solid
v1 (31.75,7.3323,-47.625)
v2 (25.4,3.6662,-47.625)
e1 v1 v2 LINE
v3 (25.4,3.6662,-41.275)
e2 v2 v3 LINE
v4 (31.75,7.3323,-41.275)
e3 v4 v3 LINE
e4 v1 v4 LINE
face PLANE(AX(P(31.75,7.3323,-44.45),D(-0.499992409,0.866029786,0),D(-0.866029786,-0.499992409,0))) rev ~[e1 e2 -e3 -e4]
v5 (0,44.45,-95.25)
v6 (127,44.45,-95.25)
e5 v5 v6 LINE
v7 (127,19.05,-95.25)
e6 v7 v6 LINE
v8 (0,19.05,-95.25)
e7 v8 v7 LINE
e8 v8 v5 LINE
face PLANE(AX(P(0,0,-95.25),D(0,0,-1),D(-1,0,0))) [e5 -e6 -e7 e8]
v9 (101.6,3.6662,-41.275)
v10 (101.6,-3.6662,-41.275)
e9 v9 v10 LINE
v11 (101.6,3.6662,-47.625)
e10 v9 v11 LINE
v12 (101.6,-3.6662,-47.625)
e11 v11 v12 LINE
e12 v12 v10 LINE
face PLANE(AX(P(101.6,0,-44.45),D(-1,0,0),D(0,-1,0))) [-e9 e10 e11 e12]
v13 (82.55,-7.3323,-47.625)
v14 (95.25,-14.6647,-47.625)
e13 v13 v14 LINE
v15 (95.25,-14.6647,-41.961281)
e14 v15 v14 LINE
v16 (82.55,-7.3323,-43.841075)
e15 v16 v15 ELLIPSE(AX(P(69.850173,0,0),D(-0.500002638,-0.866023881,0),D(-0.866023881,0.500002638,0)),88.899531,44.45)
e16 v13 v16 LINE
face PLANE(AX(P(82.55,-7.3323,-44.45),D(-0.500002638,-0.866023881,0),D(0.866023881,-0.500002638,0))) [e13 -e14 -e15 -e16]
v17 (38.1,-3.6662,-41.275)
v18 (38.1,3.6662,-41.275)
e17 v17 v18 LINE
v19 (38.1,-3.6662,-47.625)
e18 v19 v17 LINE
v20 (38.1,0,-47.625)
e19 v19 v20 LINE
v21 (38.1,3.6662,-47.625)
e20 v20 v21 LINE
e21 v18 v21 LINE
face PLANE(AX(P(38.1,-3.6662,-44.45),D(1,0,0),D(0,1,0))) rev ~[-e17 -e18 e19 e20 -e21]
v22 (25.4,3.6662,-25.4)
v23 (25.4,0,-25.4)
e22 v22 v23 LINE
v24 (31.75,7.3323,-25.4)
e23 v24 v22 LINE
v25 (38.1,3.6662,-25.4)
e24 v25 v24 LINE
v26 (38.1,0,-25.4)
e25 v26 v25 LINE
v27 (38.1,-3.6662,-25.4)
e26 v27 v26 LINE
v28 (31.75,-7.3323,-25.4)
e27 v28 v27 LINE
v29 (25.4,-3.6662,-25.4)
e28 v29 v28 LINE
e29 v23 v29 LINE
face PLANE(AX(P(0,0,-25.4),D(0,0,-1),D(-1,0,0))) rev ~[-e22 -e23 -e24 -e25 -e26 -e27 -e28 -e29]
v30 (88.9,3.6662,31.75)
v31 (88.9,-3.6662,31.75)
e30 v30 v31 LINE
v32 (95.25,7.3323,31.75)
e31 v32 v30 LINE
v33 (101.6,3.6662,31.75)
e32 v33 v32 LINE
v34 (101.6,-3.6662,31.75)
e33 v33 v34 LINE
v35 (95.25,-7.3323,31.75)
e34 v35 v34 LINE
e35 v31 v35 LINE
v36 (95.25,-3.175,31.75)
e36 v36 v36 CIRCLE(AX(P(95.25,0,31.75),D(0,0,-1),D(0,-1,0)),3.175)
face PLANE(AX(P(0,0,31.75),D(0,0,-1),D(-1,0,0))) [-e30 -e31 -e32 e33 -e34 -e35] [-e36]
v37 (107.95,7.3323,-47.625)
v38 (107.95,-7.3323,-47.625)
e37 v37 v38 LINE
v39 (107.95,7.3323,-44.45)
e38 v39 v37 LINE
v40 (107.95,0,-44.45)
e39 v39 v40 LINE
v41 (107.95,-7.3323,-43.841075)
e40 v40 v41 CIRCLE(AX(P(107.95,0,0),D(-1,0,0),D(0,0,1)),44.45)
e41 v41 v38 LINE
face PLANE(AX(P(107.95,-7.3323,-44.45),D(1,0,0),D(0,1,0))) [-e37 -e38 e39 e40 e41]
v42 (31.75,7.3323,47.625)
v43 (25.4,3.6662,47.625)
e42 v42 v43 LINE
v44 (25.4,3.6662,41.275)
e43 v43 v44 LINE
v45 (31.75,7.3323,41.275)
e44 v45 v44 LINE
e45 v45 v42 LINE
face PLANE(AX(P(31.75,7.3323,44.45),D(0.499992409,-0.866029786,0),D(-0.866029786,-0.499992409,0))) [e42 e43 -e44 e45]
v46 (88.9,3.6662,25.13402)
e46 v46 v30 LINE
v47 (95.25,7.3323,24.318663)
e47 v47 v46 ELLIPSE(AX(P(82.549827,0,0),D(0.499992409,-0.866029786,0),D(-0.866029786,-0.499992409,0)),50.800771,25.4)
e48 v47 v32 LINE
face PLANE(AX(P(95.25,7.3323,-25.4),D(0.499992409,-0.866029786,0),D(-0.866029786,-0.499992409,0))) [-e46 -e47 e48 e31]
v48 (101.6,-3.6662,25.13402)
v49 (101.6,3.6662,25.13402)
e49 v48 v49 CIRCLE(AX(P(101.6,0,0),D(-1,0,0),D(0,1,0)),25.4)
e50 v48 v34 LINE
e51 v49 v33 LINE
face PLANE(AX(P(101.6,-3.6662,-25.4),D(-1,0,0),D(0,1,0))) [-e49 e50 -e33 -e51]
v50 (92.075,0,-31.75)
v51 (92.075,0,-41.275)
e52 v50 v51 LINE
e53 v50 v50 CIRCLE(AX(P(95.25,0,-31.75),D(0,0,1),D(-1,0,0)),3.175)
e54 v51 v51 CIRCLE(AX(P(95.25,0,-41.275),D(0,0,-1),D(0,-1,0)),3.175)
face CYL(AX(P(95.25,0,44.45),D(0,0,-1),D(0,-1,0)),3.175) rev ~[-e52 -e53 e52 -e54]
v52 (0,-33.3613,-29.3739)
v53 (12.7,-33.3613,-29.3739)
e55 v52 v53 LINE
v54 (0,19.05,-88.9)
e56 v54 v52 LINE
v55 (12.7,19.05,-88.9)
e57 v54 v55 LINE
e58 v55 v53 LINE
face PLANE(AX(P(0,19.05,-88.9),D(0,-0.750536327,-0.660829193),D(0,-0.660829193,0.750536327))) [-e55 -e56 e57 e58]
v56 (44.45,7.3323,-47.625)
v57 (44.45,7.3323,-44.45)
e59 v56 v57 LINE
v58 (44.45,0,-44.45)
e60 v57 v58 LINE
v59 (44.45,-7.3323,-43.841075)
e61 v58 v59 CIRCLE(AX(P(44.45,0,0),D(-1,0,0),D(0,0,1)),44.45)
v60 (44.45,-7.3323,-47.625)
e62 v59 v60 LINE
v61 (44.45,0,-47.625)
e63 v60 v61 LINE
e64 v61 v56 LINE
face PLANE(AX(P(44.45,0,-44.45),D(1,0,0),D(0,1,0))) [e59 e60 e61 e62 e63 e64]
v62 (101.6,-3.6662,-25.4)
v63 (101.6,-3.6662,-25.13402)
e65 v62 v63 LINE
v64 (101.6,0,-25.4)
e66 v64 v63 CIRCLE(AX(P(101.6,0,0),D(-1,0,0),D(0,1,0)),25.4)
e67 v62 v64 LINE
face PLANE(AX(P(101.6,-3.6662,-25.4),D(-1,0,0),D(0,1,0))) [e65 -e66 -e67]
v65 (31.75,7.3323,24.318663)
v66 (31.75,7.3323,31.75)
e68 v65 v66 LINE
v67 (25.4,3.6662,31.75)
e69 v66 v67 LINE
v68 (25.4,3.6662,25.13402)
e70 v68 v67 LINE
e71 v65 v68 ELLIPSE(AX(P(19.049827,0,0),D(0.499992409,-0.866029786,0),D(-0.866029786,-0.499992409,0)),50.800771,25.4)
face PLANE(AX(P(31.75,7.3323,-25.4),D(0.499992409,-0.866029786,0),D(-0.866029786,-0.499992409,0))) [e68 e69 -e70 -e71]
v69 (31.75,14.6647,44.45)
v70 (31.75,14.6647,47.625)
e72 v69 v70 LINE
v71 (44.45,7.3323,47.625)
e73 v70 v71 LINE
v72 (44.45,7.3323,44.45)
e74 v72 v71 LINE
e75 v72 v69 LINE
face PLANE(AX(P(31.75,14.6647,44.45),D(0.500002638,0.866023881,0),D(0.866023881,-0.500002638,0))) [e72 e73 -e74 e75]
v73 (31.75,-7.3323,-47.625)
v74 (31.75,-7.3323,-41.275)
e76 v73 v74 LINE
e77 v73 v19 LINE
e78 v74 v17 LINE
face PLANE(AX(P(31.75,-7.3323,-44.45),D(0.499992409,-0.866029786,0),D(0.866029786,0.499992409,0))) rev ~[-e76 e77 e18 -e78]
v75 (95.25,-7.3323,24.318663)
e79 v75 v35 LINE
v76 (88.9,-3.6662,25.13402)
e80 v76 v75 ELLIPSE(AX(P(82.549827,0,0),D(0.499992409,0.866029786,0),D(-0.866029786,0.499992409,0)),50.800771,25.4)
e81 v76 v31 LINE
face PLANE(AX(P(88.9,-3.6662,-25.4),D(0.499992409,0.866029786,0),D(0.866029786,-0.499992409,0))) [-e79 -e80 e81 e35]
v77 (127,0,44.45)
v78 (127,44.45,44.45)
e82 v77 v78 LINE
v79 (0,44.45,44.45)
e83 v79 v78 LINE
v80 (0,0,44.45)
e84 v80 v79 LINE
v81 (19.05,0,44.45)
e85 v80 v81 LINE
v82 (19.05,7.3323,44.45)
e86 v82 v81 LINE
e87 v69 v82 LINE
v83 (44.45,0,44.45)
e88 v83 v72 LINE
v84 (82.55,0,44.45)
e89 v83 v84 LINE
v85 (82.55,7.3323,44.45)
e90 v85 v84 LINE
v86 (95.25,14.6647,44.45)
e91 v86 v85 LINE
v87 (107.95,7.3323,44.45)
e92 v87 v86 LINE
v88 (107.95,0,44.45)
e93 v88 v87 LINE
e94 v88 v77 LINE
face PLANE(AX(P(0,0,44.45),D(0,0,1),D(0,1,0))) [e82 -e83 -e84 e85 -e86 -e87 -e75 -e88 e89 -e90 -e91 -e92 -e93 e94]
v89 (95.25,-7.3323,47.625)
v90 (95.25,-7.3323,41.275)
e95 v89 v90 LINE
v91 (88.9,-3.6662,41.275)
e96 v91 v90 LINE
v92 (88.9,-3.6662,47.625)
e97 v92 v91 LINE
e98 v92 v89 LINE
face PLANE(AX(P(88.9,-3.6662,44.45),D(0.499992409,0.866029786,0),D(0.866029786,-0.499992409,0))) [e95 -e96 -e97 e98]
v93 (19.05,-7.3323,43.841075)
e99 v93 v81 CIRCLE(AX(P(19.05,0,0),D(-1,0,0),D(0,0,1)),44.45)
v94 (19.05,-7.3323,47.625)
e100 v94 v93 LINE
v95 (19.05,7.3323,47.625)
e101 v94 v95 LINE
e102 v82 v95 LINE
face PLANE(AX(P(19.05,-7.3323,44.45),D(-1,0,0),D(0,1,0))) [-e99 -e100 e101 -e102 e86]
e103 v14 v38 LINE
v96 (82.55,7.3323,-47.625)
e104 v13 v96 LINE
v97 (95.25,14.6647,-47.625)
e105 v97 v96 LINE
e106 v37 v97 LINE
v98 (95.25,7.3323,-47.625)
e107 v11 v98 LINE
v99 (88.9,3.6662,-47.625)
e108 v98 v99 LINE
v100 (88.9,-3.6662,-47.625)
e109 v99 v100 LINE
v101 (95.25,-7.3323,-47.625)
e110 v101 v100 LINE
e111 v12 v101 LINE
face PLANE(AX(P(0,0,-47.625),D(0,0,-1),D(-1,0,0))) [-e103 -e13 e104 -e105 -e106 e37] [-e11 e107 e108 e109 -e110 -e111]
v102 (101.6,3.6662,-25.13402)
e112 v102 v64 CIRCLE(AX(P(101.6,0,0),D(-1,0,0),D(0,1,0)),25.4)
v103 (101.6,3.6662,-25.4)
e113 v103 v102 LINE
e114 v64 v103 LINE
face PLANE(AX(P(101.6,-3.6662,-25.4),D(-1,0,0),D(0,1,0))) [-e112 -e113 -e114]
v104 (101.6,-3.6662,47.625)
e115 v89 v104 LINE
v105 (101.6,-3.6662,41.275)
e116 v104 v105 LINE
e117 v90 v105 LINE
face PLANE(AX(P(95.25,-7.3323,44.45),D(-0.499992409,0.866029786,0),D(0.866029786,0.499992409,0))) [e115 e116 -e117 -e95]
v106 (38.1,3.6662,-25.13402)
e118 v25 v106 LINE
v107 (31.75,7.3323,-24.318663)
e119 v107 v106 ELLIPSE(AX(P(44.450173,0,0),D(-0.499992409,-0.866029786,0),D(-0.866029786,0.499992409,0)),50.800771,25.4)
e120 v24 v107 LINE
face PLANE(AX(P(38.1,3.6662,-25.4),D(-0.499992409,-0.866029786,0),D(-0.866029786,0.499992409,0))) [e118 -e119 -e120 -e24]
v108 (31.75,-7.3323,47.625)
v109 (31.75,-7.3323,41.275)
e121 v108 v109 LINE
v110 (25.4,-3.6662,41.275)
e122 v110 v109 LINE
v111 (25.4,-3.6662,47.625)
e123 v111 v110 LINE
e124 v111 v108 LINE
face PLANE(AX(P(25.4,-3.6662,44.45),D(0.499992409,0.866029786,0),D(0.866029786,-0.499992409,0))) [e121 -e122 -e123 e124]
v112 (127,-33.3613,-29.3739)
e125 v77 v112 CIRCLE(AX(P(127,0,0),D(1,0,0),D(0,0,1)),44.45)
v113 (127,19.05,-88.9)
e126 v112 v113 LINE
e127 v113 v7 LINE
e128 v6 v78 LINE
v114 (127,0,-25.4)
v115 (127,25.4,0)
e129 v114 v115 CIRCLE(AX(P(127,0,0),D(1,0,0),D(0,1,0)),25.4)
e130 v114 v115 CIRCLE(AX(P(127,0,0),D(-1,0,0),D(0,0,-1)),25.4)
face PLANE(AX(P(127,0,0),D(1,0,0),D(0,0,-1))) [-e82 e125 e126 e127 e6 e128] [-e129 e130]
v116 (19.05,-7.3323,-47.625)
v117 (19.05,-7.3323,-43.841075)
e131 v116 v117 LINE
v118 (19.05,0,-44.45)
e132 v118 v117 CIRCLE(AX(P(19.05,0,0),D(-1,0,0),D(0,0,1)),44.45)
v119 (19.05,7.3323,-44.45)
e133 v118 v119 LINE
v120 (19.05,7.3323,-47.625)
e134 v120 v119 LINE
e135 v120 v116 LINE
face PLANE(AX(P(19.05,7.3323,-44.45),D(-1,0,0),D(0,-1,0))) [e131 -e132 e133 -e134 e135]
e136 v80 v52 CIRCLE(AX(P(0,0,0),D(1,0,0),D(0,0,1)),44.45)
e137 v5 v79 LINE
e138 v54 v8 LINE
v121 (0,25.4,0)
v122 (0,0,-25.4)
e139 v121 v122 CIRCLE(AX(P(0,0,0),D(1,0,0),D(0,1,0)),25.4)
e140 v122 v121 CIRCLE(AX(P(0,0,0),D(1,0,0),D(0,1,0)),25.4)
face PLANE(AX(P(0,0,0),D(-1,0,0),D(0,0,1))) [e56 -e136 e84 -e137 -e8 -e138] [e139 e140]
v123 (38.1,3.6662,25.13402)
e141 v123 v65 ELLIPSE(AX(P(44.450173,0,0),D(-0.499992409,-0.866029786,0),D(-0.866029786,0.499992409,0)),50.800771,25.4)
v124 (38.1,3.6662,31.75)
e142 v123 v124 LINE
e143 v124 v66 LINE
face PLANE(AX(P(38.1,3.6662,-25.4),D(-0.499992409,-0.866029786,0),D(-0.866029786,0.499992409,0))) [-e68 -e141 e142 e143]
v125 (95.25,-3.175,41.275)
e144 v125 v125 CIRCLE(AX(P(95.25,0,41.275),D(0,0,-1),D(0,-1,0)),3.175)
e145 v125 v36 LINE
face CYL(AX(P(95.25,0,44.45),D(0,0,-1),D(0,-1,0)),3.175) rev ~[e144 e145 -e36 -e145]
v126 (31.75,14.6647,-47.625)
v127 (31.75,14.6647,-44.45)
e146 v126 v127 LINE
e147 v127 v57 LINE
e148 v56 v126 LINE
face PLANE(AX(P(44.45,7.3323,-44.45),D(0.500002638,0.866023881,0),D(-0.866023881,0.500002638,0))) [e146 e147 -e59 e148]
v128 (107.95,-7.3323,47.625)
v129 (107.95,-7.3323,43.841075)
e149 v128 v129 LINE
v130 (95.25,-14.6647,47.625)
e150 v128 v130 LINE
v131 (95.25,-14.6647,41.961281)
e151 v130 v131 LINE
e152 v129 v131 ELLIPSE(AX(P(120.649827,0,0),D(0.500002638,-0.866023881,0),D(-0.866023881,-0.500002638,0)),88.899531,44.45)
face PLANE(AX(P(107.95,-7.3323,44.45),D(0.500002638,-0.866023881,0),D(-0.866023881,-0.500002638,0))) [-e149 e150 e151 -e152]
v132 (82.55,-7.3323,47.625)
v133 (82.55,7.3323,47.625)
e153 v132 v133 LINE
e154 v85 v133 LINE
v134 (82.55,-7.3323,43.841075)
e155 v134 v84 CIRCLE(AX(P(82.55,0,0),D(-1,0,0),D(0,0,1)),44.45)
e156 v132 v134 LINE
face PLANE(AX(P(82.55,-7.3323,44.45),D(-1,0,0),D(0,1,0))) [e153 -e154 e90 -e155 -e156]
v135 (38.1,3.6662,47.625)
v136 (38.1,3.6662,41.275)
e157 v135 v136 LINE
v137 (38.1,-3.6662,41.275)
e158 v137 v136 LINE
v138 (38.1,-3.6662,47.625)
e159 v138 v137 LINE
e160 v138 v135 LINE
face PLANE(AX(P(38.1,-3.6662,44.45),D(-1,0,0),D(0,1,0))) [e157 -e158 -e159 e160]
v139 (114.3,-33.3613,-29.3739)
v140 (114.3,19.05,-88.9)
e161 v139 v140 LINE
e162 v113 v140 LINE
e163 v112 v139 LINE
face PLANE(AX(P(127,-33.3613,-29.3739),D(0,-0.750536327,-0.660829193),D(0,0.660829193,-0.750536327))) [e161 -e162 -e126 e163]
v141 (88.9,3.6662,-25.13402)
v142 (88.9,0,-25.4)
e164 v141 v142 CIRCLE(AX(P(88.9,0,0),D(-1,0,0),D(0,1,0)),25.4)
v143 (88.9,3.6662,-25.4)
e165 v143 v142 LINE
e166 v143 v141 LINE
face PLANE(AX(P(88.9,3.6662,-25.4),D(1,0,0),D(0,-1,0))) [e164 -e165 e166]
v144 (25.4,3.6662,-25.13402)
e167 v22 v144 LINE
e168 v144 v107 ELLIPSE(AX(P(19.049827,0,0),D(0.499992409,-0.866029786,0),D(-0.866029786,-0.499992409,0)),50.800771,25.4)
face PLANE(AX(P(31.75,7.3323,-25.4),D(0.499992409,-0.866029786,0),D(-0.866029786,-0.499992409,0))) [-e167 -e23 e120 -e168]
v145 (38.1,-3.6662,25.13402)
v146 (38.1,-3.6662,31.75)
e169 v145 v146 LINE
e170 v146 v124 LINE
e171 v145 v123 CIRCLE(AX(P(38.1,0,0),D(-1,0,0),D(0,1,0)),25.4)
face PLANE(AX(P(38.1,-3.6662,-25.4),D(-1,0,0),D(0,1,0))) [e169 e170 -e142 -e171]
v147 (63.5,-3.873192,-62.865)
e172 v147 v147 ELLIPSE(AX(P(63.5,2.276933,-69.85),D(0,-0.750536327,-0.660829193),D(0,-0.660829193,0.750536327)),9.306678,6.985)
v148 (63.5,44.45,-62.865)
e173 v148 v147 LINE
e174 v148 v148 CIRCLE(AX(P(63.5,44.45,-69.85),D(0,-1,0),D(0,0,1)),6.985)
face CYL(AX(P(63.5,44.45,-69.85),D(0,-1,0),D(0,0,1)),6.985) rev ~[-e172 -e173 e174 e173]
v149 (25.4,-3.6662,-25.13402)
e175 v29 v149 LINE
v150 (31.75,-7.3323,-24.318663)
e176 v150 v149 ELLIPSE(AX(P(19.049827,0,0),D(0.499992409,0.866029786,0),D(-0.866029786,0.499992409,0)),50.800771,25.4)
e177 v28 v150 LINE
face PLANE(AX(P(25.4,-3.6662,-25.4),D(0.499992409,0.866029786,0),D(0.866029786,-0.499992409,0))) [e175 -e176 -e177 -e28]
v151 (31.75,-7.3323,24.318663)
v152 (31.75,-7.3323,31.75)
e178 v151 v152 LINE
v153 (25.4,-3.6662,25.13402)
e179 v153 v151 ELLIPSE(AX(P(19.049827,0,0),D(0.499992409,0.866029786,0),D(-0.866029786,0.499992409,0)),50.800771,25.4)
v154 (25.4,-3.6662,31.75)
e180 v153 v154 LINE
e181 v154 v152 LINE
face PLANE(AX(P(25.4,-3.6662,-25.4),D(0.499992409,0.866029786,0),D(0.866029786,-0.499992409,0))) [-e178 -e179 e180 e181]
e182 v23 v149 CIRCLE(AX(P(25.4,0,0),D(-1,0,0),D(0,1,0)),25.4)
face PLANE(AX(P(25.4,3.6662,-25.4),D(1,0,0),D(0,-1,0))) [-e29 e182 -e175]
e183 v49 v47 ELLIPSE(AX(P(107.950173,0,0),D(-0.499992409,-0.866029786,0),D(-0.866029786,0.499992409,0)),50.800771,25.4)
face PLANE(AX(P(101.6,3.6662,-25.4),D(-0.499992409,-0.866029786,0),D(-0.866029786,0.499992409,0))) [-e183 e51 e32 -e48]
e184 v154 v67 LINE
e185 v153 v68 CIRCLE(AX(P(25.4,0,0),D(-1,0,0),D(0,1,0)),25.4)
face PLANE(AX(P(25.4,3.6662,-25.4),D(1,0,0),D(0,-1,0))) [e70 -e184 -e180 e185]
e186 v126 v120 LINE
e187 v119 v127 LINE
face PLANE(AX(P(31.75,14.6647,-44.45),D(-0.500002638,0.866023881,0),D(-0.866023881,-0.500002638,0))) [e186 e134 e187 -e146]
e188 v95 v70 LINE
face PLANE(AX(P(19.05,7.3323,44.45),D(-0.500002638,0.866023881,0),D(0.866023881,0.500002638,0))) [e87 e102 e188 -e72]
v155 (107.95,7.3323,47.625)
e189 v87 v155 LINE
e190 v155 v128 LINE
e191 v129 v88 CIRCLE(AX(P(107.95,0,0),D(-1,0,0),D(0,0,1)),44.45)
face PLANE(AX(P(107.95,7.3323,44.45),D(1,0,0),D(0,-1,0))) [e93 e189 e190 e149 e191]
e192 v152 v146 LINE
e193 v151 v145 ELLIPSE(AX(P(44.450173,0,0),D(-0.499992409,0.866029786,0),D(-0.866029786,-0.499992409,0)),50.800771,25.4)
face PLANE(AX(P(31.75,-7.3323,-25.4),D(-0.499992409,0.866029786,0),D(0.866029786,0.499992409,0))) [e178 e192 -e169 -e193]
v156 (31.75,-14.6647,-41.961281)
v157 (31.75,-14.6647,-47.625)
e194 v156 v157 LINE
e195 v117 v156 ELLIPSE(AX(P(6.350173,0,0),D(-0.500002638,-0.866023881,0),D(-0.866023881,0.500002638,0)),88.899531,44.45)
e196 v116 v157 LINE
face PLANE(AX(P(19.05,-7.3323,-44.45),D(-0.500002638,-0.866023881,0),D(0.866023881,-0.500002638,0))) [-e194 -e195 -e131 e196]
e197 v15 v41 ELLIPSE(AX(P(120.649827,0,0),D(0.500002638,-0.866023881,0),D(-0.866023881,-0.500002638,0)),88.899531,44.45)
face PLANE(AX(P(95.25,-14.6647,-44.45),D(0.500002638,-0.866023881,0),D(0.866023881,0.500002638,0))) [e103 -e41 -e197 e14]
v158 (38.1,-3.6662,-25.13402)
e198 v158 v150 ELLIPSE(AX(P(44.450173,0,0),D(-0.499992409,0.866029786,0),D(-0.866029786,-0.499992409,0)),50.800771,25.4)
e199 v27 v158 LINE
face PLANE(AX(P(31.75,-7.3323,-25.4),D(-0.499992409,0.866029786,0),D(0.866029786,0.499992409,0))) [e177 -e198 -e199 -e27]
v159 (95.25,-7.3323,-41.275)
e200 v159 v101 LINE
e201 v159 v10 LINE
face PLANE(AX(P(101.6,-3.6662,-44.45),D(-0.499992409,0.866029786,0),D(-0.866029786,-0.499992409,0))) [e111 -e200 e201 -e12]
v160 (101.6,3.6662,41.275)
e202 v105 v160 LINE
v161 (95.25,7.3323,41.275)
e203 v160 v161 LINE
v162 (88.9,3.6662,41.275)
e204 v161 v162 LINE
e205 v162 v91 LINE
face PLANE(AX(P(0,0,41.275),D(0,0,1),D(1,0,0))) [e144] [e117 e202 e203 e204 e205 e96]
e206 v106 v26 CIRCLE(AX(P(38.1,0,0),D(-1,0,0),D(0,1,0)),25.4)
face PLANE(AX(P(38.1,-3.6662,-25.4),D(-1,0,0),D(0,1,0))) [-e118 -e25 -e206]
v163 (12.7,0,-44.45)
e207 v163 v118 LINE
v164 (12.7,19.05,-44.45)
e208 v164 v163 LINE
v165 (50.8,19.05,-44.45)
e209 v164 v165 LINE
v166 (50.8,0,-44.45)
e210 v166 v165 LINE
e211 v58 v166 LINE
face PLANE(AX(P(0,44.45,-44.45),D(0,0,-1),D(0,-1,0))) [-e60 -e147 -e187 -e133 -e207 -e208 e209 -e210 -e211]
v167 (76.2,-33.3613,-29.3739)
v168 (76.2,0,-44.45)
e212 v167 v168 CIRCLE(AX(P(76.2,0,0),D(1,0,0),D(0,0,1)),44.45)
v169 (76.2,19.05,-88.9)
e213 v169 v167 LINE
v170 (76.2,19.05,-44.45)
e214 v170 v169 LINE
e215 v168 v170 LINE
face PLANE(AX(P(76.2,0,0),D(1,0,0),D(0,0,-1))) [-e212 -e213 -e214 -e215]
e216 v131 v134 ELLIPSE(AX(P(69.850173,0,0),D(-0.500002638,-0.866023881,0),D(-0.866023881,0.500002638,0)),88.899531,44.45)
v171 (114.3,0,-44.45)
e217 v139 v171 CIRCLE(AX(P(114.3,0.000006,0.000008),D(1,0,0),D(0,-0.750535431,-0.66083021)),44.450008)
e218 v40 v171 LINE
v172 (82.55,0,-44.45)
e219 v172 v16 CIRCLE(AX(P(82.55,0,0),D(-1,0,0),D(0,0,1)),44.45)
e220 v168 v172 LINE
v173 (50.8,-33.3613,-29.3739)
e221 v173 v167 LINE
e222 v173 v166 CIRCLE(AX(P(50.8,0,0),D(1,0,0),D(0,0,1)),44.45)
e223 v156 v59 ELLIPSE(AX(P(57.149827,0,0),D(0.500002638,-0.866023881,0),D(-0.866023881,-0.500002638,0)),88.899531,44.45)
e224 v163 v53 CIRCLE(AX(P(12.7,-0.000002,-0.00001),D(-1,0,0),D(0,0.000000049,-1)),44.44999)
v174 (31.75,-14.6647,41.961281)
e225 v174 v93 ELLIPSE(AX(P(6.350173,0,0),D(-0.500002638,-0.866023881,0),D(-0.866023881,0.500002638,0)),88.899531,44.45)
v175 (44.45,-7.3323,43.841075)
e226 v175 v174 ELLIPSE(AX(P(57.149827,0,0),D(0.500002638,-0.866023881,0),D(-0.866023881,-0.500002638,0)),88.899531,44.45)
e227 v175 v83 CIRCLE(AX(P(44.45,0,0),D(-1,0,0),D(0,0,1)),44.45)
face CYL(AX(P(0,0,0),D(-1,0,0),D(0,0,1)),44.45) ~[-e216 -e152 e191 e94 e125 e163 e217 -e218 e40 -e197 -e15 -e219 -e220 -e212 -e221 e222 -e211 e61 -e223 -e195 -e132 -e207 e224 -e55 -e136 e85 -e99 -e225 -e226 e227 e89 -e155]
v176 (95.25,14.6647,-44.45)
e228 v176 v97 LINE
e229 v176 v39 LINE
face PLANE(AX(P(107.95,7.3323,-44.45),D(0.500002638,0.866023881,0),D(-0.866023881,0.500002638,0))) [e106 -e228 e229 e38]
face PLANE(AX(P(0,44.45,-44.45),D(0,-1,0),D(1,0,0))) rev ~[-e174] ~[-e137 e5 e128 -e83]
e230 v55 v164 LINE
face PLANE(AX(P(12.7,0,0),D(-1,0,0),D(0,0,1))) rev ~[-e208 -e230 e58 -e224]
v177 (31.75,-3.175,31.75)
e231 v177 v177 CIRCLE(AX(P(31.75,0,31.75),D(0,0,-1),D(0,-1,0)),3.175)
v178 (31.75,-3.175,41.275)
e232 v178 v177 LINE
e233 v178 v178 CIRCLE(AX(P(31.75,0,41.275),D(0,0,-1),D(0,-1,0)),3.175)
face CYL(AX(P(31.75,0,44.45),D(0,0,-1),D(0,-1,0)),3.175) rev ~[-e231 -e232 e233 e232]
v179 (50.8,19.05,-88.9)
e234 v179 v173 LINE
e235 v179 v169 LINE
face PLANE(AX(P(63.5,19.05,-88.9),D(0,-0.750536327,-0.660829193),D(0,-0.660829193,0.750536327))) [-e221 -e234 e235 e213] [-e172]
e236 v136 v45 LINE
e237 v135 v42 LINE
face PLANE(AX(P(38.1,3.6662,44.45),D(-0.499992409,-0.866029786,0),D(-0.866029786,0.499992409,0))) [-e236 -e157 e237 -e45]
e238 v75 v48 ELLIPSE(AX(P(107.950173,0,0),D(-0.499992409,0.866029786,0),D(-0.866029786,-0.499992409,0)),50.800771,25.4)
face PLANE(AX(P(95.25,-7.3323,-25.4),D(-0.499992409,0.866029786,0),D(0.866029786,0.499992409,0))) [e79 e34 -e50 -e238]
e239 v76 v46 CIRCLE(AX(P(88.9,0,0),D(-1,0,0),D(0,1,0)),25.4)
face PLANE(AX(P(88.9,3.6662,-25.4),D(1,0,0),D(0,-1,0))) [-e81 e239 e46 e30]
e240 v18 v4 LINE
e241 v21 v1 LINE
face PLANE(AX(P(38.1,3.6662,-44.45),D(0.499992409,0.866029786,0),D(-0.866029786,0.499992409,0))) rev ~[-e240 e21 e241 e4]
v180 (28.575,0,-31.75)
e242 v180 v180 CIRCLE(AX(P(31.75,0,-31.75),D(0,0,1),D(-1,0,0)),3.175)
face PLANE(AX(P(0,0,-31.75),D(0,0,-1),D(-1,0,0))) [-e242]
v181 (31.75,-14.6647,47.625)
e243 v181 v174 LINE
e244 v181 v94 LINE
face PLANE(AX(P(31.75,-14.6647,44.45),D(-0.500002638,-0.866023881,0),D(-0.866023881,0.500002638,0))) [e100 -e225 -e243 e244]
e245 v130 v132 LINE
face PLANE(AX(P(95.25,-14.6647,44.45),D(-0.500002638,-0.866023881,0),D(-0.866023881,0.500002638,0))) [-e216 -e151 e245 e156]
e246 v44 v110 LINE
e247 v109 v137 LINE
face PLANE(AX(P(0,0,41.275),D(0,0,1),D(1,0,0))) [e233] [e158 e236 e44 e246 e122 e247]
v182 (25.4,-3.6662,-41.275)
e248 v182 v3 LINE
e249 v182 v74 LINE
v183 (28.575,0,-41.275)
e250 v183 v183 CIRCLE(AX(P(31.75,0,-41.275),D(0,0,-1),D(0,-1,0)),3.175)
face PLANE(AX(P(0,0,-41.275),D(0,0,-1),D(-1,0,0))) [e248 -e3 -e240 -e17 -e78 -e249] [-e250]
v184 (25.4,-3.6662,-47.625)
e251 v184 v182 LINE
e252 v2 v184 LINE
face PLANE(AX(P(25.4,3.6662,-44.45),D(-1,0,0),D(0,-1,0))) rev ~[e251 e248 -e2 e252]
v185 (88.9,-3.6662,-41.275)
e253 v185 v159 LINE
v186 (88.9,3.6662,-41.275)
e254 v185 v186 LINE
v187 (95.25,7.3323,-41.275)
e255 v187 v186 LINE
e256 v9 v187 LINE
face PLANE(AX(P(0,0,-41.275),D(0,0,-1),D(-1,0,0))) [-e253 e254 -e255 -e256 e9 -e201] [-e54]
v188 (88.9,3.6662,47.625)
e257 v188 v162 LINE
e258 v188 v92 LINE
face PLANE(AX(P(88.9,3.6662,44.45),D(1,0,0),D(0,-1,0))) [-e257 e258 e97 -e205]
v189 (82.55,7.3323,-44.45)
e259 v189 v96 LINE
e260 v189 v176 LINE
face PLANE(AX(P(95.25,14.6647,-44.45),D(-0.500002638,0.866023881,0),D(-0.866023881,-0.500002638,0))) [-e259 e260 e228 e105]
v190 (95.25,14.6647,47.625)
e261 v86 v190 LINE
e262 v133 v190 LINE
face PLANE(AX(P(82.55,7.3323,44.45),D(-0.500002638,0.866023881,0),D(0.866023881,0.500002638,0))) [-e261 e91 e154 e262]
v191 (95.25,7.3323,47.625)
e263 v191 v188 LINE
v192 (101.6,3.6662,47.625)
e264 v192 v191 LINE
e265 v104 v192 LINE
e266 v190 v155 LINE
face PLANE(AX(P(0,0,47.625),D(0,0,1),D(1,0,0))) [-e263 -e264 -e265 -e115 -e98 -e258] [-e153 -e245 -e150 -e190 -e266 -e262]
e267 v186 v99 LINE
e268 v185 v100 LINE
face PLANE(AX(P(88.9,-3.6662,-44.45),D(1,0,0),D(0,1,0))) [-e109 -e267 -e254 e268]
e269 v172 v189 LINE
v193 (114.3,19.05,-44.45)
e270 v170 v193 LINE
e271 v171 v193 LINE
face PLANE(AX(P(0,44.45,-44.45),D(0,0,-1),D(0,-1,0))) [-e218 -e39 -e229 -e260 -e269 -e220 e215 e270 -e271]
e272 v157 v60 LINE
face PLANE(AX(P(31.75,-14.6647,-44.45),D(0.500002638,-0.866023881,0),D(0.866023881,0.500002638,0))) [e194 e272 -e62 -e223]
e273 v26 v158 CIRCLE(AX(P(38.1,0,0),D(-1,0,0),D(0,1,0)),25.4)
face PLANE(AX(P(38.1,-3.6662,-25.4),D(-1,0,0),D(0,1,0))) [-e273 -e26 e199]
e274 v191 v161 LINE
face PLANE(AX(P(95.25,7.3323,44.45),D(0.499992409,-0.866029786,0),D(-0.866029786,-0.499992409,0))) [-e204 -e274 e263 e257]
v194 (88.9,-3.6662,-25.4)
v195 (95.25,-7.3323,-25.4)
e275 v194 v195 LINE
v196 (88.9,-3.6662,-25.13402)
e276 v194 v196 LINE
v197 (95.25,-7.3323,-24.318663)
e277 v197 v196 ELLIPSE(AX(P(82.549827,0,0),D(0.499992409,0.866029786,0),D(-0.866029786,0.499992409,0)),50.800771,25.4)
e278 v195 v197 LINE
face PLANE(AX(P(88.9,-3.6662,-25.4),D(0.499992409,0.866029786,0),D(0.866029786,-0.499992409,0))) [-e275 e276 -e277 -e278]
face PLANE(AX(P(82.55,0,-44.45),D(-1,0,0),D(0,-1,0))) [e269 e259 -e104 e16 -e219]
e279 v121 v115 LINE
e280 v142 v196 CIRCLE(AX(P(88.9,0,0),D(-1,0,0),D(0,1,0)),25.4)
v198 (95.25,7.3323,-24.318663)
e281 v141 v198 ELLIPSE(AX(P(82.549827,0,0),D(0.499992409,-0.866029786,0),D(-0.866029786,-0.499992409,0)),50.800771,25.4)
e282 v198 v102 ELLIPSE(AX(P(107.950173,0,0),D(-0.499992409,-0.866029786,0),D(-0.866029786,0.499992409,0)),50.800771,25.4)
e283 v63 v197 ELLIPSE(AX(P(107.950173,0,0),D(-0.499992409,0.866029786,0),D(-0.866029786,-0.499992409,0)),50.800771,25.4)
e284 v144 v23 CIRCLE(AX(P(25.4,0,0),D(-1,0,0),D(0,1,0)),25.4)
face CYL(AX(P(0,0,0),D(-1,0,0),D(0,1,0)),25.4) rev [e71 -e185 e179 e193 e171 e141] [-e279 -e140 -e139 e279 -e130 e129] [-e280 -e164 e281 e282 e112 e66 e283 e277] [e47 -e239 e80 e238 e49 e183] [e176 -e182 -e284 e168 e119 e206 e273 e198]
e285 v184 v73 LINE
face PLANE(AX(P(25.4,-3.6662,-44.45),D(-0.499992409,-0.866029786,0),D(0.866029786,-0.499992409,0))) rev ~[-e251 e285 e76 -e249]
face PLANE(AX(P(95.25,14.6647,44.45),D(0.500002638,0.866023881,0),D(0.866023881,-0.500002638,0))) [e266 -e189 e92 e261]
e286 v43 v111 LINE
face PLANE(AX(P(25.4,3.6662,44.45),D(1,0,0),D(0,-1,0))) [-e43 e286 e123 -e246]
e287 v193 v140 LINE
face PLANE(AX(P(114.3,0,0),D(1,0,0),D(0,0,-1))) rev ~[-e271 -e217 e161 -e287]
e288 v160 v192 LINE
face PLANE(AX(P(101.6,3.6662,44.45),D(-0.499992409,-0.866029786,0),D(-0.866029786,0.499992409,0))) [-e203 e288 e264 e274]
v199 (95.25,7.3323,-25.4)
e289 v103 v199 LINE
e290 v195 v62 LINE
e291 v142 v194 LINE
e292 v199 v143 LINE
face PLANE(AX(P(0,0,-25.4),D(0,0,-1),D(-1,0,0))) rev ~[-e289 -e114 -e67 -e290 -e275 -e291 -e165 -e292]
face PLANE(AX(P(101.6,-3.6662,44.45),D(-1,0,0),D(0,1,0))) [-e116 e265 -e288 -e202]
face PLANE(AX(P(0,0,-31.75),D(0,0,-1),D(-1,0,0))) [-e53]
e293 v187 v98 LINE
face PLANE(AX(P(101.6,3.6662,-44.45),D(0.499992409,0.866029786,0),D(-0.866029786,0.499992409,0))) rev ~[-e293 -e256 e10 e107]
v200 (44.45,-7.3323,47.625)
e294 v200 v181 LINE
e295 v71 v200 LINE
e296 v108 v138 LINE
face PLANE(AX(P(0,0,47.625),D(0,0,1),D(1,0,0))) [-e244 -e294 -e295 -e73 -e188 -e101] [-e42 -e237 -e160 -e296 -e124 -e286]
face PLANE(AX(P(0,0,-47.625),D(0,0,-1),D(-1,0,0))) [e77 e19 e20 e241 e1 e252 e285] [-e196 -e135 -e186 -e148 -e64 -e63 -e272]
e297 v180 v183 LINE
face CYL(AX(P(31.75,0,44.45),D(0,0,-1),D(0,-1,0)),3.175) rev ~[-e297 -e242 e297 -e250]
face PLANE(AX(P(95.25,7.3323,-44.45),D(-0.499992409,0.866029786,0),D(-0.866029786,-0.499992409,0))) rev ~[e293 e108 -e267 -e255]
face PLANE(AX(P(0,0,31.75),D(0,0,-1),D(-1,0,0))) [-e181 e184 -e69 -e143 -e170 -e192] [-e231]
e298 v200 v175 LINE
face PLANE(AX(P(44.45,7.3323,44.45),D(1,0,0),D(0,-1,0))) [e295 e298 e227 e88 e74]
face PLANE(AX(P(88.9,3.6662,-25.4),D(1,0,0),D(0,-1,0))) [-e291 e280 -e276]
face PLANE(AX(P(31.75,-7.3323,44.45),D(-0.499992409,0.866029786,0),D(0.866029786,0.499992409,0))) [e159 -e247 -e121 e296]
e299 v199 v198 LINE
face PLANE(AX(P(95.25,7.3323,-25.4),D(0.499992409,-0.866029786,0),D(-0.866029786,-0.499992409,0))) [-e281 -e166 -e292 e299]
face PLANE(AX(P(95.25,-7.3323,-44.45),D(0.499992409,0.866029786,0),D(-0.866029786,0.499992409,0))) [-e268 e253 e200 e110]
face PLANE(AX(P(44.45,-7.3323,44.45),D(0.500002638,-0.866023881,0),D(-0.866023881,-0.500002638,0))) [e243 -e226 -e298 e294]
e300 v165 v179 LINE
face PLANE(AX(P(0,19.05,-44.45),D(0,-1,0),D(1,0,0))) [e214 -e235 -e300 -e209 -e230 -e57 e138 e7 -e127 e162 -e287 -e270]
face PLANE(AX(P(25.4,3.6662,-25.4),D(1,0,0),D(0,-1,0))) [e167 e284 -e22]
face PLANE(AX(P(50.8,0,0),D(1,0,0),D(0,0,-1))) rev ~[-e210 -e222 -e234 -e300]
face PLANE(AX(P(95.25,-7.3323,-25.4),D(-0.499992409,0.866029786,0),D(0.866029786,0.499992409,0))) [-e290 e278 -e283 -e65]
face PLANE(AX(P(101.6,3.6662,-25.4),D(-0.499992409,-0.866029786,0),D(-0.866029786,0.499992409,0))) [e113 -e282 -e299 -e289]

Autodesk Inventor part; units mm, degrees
ref_plane "YZ Plane" through (0, 0, 0) normal (1, 0, 0) x (0, 1, 0)
sketch "Sketch2" plane through (0, 0, 0) normal (1, 0, 0) x (0, 1, 0)
  circle A0 centre (0, 0) radius 25.4
  arc A1 (0, 44.45) -> (0, -44.45) centre (0, 0) ccw
  line L0 (0, -44.45) -> (0, 25.4)
  line L1 (0, 44.45) -> (44.45, 44.45)
  line L2 (44.45, 44.45) -> (44.45, -44.45)
  line L3 (44.45, -44.45) -> (0, -44.45)
  dimension "d0" = 50.8
  dimension "d2" = 88.9
  dimension "d3" = 44.45
extrude "Extrusion1" add sketch "Sketch2" along normal blind 127
sketch "Sketch3" plane through (0, 0, 44.45) normal (0, 0, 1) x (1, 0, 0)
  line L0 (0, 0) -> (127, 0) projected
  line L1 (0, 0) -> (127, 0)
  line L2 (63.5, 0) -> (0, 0)
  line L3 (63.5, 0) -> (127, 0)
  circle A0 centre (31.75, 0) radius 4.2333
  circle A1 centre (95.25, 0) radius 4.2333
  dimension "d6" = 8.4667
  dimension "d7" = 8.4667
hole "Hole1" at (95.25, 0, 44.45) at (31.75, 0, 44.45) direction (0, 0, -1) diameter 6.35 end through all
ref_plane "Work Plane1" through (0, 0, -25.4) normal (0, 0, -1) x (-1, 0, 0)
sketch "Sketch4" plane through (0, 0, -25.4) normal (0, 0, -1) x (-1, 0, 0)
  arc A0 (-92.075, 0) -> (-98.425, 0) centre (-95.25, 0) ccw projected
  arc A1 (-28.575, 0) -> (-34.925, 0) centre (-31.75, 0) ccw projected
  line L0 (-95.25, 0) -> (-101.6, 0)
  line L1 (-101.6, 3.6662) -> (-95.25, 7.3323)
  line L2 (-95.25, 7.3323) -> (-88.9, 3.6662)
  line L3 (-88.9, 3.6662) -> (-88.9, -3.6662)
  line L4 (-88.9, -3.6662) -> (-95.25, -7.3323)
  line L5 (-95.25, -7.3323) -> (-101.6, -3.6662)
  line L6 (-101.6, -3.6662) -> (-101.6, 3.6662)
  line L7 (-31.75, 0) -> (-25.4, 0)
  line L8 (-25.4, -3.6662) -> (-31.75, -7.3323)
  line L9 (-31.75, -7.3323) -> (-38.1, -3.6662)
  line L10 (-38.1, -3.6662) -> (-38.1, 3.6662)
  line L11 (-38.1, 3.6662) -> (-31.75, 7.3323)
  line L12 (-31.75, 7.3323) -> (-25.4, 3.6662)
  line L13 (-25.4, 3.6662) -> (-25.4, -3.6662)
  point P0 (0, 0)
  dimension "d15" = 6.35
extrude "Extrusion2" add sketch "Sketch4" along normal blind 6.35
extrude "Extrusion3" cut sketch "Sketch4" against normal blind 57.15
sketch "Sketch5" plane through (0, 0, -44.45) normal (0, 0, -1) x (-1, 0, 0)
  line L0 (-101.6, 3.6662) -> (-95.25, 7.3323) projected
  line L1 (-95.25, 7.3323) -> (-88.9, 3.6662) projected
  line L2 (-88.9, 3.6662) -> (-88.9, -3.6662) projected
  line L3 (-34.925, 0) -> (-92.075, 0) projected
  line L4 (0, 0) -> (-28.575, 0) projected
  line L5 (0, 0) -> (0, 0) projected
  line L6 (0, 0) -> (-28.575, 0) projected
  line L7 (-34.925, 0) -> (-92.075, 0) projected
  line L8 (-98.425, 0) -> (-127, 0) projected
  line L9 (-127, 0) -> (-127, 0) projected
  line L10 (-98.425, 0) -> (-127, 0) projected
  line L11 (-88.9, -3.6662) -> (-95.25, -7.3323) projected
  line L12 (-95.25, -7.3323) -> (-101.6, -3.6662) projected
  line L13 (-101.6, -3.6662) -> (-101.6, 3.6662) projected
  line L14 (-38.1, 3.6662) -> (-31.75, 7.3323) projected
  line L15 (-25.4, -3.6662) -> (-31.75, -7.3323) projected
  line L16 (-31.75, 7.3323) -> (-25.4, 3.6662) projected
  line L17 (-25.4, 3.6662) -> (-25.4, -3.6662) projected
  line L18 (-38.1, -3.6662) -> (-38.1, 3.6662) projected
  line L19 (-31.75, -7.3323) -> (-38.1, -3.6662) projected
extrude "Extrusion4" cut sketch "Sketch5" against normal blind 3.175
sketch "Sketch6" plane through (0, 0, 44.45) normal (0, 0, 1) x (1, 0, 0)
  line L0 (25.4, 0) -> (25.4, -3.6662) projected
  line L1 (25.4, -3.6662) -> (31.75, -7.3323) projected
  line L2 (31.75, -7.3323) -> (38.1, -3.6662) projected
  line L3 (38.1, -3.6662) -> (38.1, 0) projected
  line L4 (38.1, 0) -> (88.9, 0) projected
  line L5 (88.9, 0) -> (88.9, -3.6662) projected
  line L6 (88.9, -3.6662) -> (95.25, -7.3323) projected
  line L7 (95.25, -7.3323) -> (101.6, -3.6662) projected
  line L8 (101.6, -3.6662) -> (101.6, 0) projected
  line L9 (101.6, 0) -> (127, 0) projected
  line L10 (127, 0) -> (127, 0) projected
  line L11 (98.425, 0) -> (127, 0) projected
  line L12 (34.925, 0) -> (92.075, 0) projected
  line L13 (0, 0) -> (28.575, 0) projected
  line L14 (0, 0) -> (0, 0) projected
  line L15 (0, 0) -> (25.4, 0) projected
  line L16 (38.1, 3.6662) -> (31.75, 7.3323) projected
  line L17 (38.1, -3.6662) -> (38.1, 3.6662) projected
  line L18 (31.75, 7.3323) -> (25.4, 3.6662) projected
  line L19 (25.4, 3.6662) -> (25.4, -3.6662) projected
  line L20 (88.9, 3.6662) -> (88.9, -3.6662) projected
  line L21 (95.25, 7.3323) -> (88.9, 3.6662) projected
  line L22 (101.6, 3.6662) -> (95.25, 7.3323) projected
  line L23 (101.6, -3.6662) -> (101.6, 3.6662) projected
extrude "Extrusion5" cut sketch "Sketch6" against normal blind 3.175
sketch "Sketch7" plane through (0, 0, -44.45) normal (0, 0, -1) x (-1, 0, 0)
  line L0 (-101.6, 0) -> (-127, 0) projected
  line L1 (-101.6, 0) -> (-101.6, 3.6662) projected
  line L2 (-101.6, 3.6662) -> (-95.25, 7.3323) projected
  line L3 (-95.25, 7.3323) -> (-88.9, 3.6662) projected
  line L4 (-88.9, 3.6662) -> (-88.9, 0) projected
  line L5 (-38.1, 0) -> (-88.9, 0) projected
  line L6 (-95.25, 0) -> (-107.95, 0)
  line L7 (-31.75, 0) -> (-44.45, 0)
  line L8 (-107.95, 7.3323) -> (-95.25, 14.6647)
  line L9 (-95.25, 14.6647) -> (-82.55, 7.3323)
  line L10 (-82.55, 7.3323) -> (-82.55, -7.3323)
  line L11 (-82.55, -7.3323) -> (-95.25, -14.6647)
  line L12 (-95.25, -14.6647) -> (-107.95, -7.3323)
  line L13 (-107.95, -7.3323) -> (-107.95, 7.3323)
  line L14 (-44.45, 7.3323) -> (-31.75, 14.6647)
  line L15 (-31.75, 14.6647) -> (-19.05, 7.3323)
  line L16 (-19.05, 7.3323) -> (-19.05, -7.3323)
  line L17 (-19.05, -7.3323) -> (-31.75, -14.6647)
  line L18 (-31.75, -14.6647) -> (-44.45, -7.3323)
  line L19 (-44.45, -7.3323) -> (-44.45, 7.3323)
  line L20 (-95.25, -7.3323) -> (-88.9, -3.6662) projected
  line L21 (-88.9, -3.6662) -> (-88.9, 0) projected
  line L22 (-101.6, -3.6662) -> (-95.25, -7.3323) projected
  line L23 (-101.6, 0) -> (-101.6, -3.6662) projected
  circle A0 centre (-31.75, 0) radius 3.175 projected
  line L24 (-38.1, 3.6662) -> (-31.75, 7.3323) projected
  line L25 (-38.1, -3.6662) -> (-38.1, 3.6662) projected
  line L26 (-31.75, -7.3323) -> (-38.1, -3.6662) projected
  line L27 (-25.4, -3.6662) -> (-31.75, -7.3323) projected
  line L28 (-25.4, 3.6662) -> (-25.4, -3.6662) projected
  line L29 (-31.75, 7.3323) -> (-25.4, 3.6662) projected
  dimension "d24" = 12.7
  dimension "d25" = 12.7
extrude "Extrusion6" add sketch "Sketch7" along normal mid plane 6.35 contours L23 L22 L20 L21 L5 L10 L11 L12 L13 L0 | L0 L13 L8 L9 L10 L5 L4 L3 L2 L1 | L19 L14 L15 L16 L17 L18
sketch "Sketch8" plane through (0, 0, 44.45) normal (0, 0, 1) x (1, 0, 0)
  line L0 (101.6, 3.6662) -> (95.25, 7.3323) projected
  line L1 (95.25, 7.3323) -> (88.9, 3.6662) projected
  line L2 (88.9, 3.6662) -> (88.9, -3.6662) projected
  line L3 (88.9, -3.6662) -> (95.25, -7.3323) projected
  line L4 (95.25, -7.3323) -> (101.6, -3.6662) projected
  line L5 (101.6, -3.6662) -> (101.6, 3.6662) projected
  line L6 (107.95, 7.3323) -> (107.95, -7.3323) projected
  line L7 (107.95, -7.3323) -> (95.25, -14.6647) projected
  line L8 (95.25, -14.6647) -> (82.55, -7.3323) projected
  line L9 (82.55, -7.3323) -> (82.55, 7.3323) projected
  line L10 (82.55, 7.3323) -> (95.25, 14.6647) projected
  line L11 (95.25, 14.6647) -> (107.95, 7.3323) projected
  line L12 (31.75, 7.3323) -> (25.4, 3.6662) projected
  line L13 (25.4, 3.6662) -> (25.4, -3.6662) projected
  line L14 (25.4, -3.6662) -> (31.75, -7.3323) projected
  line L15 (31.75, -7.3323) -> (38.1, -3.6662) projected
  line L16 (38.1, -3.6662) -> (38.1, 3.6662) projected
  line L17 (38.1, 3.6662) -> (31.75, 7.3323) projected
  line L18 (44.45, 7.3323) -> (44.45, -7.3323) projected
  line L19 (44.45, -7.3323) -> (31.75, -14.6647) projected
  line L20 (31.75, -14.6647) -> (19.05, -7.3323) projected
  line L21 (19.05, -7.3323) -> (19.05, 7.3323) projected
  line L22 (19.05, 7.3323) -> (31.75, 14.6647) projected
  line L23 (31.75, 14.6647) -> (44.45, 7.3323) projected
extrude "Extrusion7" add sketch "Sketch8" along normal mid plane 6.35
sketch "Sketch11" plane through (0, 0, -44.45) normal (0, 0, -1) x (-1, 0, 0)
  line L0 (-107.95, 0) -> (-107.95, 7.3323) projected
  line L1 (-107.95, 7.3323) -> (-95.25, 14.6647) projected
  line L2 (-95.25, 14.6647) -> (-82.55, 7.3323) projected
  line L3 (-82.55, 7.3323) -> (-82.55, 0) projected
  line L4 (-44.45, 0) -> (-82.55, 0) projected
  line L5 (-44.45, 0) -> (-44.45, 7.3323) projected
  line L6 (-44.45, 7.3323) -> (-31.75, 14.6647) projected
  line L7 (-31.75, 14.6647) -> (-19.05, 7.3323) projected
  line L8 (-19.05, 7.3323) -> (-19.05, 0) projected
  line L9 (0, 0) -> (-19.05, 0) projected
  line L10 (0, 0) -> (0, 44.45) projected
  line L11 (0, 44.45) -> (-127, 44.45) projected
  line L12 (-127, 0) -> (-127, 44.45) projected
  line L13 (-107.95, 0) -> (-127, 0) projected
  line L14 (-127, 44.45) -> (0, 44.45)
  line L15 (0, 44.45) -> (0, 19.05)
  line L16 (0, 19.05) -> (-127, 19.05)
  line L17 (-127, 19.05) -> (-127, 44.45)
extrude "Extrusion9" add sketch "Sketch11" along normal blind 50.8 contours L12 L11 L10 L16
ref_plane "Work Plane2" through (63.5, 0, 0) normal (1, 0, 0) x (0, 0, -1)
sketch "Sketch13" plane through (63.5, 0, 0) normal (1, 0, 0) x (0, 0, -1)
  circle A0 centre (0, 0) radius 25.4 projected
  arc A1 (-44.45, 0) -> (44.45, 0) centre (0, 0) ccw projected
  line L0 (44.45, 0) -> (44.45, 19.05) projected
  line L1 (44.45, 19.05) -> (95.25, 19.05) projected
  line L2 (95.25, 44.45) -> (95.25, 19.05) projected
  line L3 (-44.45, 44.45) -> (95.25, 44.45) projected
  line L4 (-44.45, 44.45) -> (-44.45, 0) projected
  line L5 (95.25, 19.05) -> (88.9, 19.05)
  line L6 (88.9, 19.05) -> (29.3739, -33.3613)
  dimension "d65" = 6.35
extrude "Extrusion10" add sketch "Sketch13" along normal mid plane 25.4 contours A1 L0 L1 L6
sketch "Sketch14" plane through (127, 0, 0) normal (1, 0, 0) x (0, 0, -1)
  arc A0 (29.3739, -33.3613) -> (44.45, 0) centre (0, 0) ccw projected
  line L0 (29.3739, -33.3613) -> (88.9, 19.05) projected
  line L1 (44.45, 19.05) -> (88.9, 19.05) projected
  line L2 (44.45, 0) -> (44.45, 19.05) projected
  circle A1 centre (0, 0) radius 25.4 projected
  arc A2 (-44.45, 0) -> (44.45, 0) centre (0, 0) ccw projected
  line L3 (44.45, 0) -> (44.45, 19.05) projected
  line L4 (44.45, 19.05) -> (95.25, 19.05) projected
  line L5 (95.25, 44.45) -> (95.25, 19.05) projected
  line L6 (-44.45, 44.45) -> (95.25, 44.45) projected
  line L7 (-44.45, 44.45) -> (-44.45, 0) projected
extrude "Extrusion11" add sketch "Sketch14" against normal blind 12.7 contours A0 L2 L1 L0
sketch "Sketch15" plane through (0, 0, 0) normal (-1, 0, 0) x (0, 0, 1)
  arc A0 (-44.45, 0) -> (-29.3739, -33.3613) centre (0, 0) ccw projected
  line L0 (-44.45, 19.05) -> (-44.45, 0) projected
  line L1 (-88.9, 19.05) -> (-44.45, 19.05) projected
  line L2 (-88.9, 19.05) -> (-29.3739, -33.3613) projected
  circle A1 centre (0, 0) radius 25.4 projected
  arc A2 (-44.45, 0) -> (44.45, 0) centre (0, 0) ccw projected
  line L3 (44.45, 44.45) -> (44.45, 0) projected
  line L4 (44.45, 44.45) -> (-95.25, 44.45) projected
  line L5 (-95.25, 19.05) -> (-95.25, 44.45) projected
  line L6 (-44.45, 19.05) -> (-95.25, 19.05) projected
  line L7 (-44.45, 0) -> (-44.45, 19.05) projected
extrude "Extrusion12" add sketch "Sketch15" against normal blind 12.7 contours A0 L2 L1 L0
sketch "Sketch16" plane through (0, 44.45, 44.45) normal (0, 1, 0) x (1, 0, 0)
  line L0 (0, 0) -> (0, 139.7) projected
  line L1 (127, 0) -> (127, 139.7) projected
  line L2 (107.95, 88.9) -> (114.3, 88.9) projected
  line L3 (107.95, 88.9) -> (95.25, 88.9) projected
  line L4 (95.25, 88.9) -> (82.55, 88.9) projected
  line L5 (76.2, 88.9) -> (82.55, 88.9) projected
  line L6 (76.2, 88.9) -> (114.3, 88.9) projected
  line L7 (114.3, 88.9) -> (127, 88.9)
  line L8 (127, 88.9) -> (0, 88.9)
  line L9 (0, 88.9) -> (127, 88.9)
  line L10 (127, 88.9) -> (127, 139.7)
  line L11 (127, 139.7) -> (0, 139.7)
  line L12 (0, 139.7) -> (0, 88.9)
  circle A0 centre (63.5, 114.3) radius 6.985
  point P0 (0, 44.45)
  dimension "d72" = 13.97
hole "Hole3" at (63.5, 44.45, -69.85) direction (0, -1, 0) diameter 13.97 end through all
sketch "Sketch17" plane through (63.5, 0, 0) normal (1, 0, 0) x (0, 0, -1)
  line L0 (62.865, 44.45) -> (76.835, 44.45) projected
  line L1 (62.865, 44.45) -> (43.815, 44.45)
  line L2 (69.85, 44.45) -> (69.85, 57.15)
  line L3 (69.85, 57.15) -> (43.815, 44.45)
  point P0 (0, 0)
  dimension "d81" = 19.05
  dimension "d82" = 12.7
properties part number "bike_gipper"
